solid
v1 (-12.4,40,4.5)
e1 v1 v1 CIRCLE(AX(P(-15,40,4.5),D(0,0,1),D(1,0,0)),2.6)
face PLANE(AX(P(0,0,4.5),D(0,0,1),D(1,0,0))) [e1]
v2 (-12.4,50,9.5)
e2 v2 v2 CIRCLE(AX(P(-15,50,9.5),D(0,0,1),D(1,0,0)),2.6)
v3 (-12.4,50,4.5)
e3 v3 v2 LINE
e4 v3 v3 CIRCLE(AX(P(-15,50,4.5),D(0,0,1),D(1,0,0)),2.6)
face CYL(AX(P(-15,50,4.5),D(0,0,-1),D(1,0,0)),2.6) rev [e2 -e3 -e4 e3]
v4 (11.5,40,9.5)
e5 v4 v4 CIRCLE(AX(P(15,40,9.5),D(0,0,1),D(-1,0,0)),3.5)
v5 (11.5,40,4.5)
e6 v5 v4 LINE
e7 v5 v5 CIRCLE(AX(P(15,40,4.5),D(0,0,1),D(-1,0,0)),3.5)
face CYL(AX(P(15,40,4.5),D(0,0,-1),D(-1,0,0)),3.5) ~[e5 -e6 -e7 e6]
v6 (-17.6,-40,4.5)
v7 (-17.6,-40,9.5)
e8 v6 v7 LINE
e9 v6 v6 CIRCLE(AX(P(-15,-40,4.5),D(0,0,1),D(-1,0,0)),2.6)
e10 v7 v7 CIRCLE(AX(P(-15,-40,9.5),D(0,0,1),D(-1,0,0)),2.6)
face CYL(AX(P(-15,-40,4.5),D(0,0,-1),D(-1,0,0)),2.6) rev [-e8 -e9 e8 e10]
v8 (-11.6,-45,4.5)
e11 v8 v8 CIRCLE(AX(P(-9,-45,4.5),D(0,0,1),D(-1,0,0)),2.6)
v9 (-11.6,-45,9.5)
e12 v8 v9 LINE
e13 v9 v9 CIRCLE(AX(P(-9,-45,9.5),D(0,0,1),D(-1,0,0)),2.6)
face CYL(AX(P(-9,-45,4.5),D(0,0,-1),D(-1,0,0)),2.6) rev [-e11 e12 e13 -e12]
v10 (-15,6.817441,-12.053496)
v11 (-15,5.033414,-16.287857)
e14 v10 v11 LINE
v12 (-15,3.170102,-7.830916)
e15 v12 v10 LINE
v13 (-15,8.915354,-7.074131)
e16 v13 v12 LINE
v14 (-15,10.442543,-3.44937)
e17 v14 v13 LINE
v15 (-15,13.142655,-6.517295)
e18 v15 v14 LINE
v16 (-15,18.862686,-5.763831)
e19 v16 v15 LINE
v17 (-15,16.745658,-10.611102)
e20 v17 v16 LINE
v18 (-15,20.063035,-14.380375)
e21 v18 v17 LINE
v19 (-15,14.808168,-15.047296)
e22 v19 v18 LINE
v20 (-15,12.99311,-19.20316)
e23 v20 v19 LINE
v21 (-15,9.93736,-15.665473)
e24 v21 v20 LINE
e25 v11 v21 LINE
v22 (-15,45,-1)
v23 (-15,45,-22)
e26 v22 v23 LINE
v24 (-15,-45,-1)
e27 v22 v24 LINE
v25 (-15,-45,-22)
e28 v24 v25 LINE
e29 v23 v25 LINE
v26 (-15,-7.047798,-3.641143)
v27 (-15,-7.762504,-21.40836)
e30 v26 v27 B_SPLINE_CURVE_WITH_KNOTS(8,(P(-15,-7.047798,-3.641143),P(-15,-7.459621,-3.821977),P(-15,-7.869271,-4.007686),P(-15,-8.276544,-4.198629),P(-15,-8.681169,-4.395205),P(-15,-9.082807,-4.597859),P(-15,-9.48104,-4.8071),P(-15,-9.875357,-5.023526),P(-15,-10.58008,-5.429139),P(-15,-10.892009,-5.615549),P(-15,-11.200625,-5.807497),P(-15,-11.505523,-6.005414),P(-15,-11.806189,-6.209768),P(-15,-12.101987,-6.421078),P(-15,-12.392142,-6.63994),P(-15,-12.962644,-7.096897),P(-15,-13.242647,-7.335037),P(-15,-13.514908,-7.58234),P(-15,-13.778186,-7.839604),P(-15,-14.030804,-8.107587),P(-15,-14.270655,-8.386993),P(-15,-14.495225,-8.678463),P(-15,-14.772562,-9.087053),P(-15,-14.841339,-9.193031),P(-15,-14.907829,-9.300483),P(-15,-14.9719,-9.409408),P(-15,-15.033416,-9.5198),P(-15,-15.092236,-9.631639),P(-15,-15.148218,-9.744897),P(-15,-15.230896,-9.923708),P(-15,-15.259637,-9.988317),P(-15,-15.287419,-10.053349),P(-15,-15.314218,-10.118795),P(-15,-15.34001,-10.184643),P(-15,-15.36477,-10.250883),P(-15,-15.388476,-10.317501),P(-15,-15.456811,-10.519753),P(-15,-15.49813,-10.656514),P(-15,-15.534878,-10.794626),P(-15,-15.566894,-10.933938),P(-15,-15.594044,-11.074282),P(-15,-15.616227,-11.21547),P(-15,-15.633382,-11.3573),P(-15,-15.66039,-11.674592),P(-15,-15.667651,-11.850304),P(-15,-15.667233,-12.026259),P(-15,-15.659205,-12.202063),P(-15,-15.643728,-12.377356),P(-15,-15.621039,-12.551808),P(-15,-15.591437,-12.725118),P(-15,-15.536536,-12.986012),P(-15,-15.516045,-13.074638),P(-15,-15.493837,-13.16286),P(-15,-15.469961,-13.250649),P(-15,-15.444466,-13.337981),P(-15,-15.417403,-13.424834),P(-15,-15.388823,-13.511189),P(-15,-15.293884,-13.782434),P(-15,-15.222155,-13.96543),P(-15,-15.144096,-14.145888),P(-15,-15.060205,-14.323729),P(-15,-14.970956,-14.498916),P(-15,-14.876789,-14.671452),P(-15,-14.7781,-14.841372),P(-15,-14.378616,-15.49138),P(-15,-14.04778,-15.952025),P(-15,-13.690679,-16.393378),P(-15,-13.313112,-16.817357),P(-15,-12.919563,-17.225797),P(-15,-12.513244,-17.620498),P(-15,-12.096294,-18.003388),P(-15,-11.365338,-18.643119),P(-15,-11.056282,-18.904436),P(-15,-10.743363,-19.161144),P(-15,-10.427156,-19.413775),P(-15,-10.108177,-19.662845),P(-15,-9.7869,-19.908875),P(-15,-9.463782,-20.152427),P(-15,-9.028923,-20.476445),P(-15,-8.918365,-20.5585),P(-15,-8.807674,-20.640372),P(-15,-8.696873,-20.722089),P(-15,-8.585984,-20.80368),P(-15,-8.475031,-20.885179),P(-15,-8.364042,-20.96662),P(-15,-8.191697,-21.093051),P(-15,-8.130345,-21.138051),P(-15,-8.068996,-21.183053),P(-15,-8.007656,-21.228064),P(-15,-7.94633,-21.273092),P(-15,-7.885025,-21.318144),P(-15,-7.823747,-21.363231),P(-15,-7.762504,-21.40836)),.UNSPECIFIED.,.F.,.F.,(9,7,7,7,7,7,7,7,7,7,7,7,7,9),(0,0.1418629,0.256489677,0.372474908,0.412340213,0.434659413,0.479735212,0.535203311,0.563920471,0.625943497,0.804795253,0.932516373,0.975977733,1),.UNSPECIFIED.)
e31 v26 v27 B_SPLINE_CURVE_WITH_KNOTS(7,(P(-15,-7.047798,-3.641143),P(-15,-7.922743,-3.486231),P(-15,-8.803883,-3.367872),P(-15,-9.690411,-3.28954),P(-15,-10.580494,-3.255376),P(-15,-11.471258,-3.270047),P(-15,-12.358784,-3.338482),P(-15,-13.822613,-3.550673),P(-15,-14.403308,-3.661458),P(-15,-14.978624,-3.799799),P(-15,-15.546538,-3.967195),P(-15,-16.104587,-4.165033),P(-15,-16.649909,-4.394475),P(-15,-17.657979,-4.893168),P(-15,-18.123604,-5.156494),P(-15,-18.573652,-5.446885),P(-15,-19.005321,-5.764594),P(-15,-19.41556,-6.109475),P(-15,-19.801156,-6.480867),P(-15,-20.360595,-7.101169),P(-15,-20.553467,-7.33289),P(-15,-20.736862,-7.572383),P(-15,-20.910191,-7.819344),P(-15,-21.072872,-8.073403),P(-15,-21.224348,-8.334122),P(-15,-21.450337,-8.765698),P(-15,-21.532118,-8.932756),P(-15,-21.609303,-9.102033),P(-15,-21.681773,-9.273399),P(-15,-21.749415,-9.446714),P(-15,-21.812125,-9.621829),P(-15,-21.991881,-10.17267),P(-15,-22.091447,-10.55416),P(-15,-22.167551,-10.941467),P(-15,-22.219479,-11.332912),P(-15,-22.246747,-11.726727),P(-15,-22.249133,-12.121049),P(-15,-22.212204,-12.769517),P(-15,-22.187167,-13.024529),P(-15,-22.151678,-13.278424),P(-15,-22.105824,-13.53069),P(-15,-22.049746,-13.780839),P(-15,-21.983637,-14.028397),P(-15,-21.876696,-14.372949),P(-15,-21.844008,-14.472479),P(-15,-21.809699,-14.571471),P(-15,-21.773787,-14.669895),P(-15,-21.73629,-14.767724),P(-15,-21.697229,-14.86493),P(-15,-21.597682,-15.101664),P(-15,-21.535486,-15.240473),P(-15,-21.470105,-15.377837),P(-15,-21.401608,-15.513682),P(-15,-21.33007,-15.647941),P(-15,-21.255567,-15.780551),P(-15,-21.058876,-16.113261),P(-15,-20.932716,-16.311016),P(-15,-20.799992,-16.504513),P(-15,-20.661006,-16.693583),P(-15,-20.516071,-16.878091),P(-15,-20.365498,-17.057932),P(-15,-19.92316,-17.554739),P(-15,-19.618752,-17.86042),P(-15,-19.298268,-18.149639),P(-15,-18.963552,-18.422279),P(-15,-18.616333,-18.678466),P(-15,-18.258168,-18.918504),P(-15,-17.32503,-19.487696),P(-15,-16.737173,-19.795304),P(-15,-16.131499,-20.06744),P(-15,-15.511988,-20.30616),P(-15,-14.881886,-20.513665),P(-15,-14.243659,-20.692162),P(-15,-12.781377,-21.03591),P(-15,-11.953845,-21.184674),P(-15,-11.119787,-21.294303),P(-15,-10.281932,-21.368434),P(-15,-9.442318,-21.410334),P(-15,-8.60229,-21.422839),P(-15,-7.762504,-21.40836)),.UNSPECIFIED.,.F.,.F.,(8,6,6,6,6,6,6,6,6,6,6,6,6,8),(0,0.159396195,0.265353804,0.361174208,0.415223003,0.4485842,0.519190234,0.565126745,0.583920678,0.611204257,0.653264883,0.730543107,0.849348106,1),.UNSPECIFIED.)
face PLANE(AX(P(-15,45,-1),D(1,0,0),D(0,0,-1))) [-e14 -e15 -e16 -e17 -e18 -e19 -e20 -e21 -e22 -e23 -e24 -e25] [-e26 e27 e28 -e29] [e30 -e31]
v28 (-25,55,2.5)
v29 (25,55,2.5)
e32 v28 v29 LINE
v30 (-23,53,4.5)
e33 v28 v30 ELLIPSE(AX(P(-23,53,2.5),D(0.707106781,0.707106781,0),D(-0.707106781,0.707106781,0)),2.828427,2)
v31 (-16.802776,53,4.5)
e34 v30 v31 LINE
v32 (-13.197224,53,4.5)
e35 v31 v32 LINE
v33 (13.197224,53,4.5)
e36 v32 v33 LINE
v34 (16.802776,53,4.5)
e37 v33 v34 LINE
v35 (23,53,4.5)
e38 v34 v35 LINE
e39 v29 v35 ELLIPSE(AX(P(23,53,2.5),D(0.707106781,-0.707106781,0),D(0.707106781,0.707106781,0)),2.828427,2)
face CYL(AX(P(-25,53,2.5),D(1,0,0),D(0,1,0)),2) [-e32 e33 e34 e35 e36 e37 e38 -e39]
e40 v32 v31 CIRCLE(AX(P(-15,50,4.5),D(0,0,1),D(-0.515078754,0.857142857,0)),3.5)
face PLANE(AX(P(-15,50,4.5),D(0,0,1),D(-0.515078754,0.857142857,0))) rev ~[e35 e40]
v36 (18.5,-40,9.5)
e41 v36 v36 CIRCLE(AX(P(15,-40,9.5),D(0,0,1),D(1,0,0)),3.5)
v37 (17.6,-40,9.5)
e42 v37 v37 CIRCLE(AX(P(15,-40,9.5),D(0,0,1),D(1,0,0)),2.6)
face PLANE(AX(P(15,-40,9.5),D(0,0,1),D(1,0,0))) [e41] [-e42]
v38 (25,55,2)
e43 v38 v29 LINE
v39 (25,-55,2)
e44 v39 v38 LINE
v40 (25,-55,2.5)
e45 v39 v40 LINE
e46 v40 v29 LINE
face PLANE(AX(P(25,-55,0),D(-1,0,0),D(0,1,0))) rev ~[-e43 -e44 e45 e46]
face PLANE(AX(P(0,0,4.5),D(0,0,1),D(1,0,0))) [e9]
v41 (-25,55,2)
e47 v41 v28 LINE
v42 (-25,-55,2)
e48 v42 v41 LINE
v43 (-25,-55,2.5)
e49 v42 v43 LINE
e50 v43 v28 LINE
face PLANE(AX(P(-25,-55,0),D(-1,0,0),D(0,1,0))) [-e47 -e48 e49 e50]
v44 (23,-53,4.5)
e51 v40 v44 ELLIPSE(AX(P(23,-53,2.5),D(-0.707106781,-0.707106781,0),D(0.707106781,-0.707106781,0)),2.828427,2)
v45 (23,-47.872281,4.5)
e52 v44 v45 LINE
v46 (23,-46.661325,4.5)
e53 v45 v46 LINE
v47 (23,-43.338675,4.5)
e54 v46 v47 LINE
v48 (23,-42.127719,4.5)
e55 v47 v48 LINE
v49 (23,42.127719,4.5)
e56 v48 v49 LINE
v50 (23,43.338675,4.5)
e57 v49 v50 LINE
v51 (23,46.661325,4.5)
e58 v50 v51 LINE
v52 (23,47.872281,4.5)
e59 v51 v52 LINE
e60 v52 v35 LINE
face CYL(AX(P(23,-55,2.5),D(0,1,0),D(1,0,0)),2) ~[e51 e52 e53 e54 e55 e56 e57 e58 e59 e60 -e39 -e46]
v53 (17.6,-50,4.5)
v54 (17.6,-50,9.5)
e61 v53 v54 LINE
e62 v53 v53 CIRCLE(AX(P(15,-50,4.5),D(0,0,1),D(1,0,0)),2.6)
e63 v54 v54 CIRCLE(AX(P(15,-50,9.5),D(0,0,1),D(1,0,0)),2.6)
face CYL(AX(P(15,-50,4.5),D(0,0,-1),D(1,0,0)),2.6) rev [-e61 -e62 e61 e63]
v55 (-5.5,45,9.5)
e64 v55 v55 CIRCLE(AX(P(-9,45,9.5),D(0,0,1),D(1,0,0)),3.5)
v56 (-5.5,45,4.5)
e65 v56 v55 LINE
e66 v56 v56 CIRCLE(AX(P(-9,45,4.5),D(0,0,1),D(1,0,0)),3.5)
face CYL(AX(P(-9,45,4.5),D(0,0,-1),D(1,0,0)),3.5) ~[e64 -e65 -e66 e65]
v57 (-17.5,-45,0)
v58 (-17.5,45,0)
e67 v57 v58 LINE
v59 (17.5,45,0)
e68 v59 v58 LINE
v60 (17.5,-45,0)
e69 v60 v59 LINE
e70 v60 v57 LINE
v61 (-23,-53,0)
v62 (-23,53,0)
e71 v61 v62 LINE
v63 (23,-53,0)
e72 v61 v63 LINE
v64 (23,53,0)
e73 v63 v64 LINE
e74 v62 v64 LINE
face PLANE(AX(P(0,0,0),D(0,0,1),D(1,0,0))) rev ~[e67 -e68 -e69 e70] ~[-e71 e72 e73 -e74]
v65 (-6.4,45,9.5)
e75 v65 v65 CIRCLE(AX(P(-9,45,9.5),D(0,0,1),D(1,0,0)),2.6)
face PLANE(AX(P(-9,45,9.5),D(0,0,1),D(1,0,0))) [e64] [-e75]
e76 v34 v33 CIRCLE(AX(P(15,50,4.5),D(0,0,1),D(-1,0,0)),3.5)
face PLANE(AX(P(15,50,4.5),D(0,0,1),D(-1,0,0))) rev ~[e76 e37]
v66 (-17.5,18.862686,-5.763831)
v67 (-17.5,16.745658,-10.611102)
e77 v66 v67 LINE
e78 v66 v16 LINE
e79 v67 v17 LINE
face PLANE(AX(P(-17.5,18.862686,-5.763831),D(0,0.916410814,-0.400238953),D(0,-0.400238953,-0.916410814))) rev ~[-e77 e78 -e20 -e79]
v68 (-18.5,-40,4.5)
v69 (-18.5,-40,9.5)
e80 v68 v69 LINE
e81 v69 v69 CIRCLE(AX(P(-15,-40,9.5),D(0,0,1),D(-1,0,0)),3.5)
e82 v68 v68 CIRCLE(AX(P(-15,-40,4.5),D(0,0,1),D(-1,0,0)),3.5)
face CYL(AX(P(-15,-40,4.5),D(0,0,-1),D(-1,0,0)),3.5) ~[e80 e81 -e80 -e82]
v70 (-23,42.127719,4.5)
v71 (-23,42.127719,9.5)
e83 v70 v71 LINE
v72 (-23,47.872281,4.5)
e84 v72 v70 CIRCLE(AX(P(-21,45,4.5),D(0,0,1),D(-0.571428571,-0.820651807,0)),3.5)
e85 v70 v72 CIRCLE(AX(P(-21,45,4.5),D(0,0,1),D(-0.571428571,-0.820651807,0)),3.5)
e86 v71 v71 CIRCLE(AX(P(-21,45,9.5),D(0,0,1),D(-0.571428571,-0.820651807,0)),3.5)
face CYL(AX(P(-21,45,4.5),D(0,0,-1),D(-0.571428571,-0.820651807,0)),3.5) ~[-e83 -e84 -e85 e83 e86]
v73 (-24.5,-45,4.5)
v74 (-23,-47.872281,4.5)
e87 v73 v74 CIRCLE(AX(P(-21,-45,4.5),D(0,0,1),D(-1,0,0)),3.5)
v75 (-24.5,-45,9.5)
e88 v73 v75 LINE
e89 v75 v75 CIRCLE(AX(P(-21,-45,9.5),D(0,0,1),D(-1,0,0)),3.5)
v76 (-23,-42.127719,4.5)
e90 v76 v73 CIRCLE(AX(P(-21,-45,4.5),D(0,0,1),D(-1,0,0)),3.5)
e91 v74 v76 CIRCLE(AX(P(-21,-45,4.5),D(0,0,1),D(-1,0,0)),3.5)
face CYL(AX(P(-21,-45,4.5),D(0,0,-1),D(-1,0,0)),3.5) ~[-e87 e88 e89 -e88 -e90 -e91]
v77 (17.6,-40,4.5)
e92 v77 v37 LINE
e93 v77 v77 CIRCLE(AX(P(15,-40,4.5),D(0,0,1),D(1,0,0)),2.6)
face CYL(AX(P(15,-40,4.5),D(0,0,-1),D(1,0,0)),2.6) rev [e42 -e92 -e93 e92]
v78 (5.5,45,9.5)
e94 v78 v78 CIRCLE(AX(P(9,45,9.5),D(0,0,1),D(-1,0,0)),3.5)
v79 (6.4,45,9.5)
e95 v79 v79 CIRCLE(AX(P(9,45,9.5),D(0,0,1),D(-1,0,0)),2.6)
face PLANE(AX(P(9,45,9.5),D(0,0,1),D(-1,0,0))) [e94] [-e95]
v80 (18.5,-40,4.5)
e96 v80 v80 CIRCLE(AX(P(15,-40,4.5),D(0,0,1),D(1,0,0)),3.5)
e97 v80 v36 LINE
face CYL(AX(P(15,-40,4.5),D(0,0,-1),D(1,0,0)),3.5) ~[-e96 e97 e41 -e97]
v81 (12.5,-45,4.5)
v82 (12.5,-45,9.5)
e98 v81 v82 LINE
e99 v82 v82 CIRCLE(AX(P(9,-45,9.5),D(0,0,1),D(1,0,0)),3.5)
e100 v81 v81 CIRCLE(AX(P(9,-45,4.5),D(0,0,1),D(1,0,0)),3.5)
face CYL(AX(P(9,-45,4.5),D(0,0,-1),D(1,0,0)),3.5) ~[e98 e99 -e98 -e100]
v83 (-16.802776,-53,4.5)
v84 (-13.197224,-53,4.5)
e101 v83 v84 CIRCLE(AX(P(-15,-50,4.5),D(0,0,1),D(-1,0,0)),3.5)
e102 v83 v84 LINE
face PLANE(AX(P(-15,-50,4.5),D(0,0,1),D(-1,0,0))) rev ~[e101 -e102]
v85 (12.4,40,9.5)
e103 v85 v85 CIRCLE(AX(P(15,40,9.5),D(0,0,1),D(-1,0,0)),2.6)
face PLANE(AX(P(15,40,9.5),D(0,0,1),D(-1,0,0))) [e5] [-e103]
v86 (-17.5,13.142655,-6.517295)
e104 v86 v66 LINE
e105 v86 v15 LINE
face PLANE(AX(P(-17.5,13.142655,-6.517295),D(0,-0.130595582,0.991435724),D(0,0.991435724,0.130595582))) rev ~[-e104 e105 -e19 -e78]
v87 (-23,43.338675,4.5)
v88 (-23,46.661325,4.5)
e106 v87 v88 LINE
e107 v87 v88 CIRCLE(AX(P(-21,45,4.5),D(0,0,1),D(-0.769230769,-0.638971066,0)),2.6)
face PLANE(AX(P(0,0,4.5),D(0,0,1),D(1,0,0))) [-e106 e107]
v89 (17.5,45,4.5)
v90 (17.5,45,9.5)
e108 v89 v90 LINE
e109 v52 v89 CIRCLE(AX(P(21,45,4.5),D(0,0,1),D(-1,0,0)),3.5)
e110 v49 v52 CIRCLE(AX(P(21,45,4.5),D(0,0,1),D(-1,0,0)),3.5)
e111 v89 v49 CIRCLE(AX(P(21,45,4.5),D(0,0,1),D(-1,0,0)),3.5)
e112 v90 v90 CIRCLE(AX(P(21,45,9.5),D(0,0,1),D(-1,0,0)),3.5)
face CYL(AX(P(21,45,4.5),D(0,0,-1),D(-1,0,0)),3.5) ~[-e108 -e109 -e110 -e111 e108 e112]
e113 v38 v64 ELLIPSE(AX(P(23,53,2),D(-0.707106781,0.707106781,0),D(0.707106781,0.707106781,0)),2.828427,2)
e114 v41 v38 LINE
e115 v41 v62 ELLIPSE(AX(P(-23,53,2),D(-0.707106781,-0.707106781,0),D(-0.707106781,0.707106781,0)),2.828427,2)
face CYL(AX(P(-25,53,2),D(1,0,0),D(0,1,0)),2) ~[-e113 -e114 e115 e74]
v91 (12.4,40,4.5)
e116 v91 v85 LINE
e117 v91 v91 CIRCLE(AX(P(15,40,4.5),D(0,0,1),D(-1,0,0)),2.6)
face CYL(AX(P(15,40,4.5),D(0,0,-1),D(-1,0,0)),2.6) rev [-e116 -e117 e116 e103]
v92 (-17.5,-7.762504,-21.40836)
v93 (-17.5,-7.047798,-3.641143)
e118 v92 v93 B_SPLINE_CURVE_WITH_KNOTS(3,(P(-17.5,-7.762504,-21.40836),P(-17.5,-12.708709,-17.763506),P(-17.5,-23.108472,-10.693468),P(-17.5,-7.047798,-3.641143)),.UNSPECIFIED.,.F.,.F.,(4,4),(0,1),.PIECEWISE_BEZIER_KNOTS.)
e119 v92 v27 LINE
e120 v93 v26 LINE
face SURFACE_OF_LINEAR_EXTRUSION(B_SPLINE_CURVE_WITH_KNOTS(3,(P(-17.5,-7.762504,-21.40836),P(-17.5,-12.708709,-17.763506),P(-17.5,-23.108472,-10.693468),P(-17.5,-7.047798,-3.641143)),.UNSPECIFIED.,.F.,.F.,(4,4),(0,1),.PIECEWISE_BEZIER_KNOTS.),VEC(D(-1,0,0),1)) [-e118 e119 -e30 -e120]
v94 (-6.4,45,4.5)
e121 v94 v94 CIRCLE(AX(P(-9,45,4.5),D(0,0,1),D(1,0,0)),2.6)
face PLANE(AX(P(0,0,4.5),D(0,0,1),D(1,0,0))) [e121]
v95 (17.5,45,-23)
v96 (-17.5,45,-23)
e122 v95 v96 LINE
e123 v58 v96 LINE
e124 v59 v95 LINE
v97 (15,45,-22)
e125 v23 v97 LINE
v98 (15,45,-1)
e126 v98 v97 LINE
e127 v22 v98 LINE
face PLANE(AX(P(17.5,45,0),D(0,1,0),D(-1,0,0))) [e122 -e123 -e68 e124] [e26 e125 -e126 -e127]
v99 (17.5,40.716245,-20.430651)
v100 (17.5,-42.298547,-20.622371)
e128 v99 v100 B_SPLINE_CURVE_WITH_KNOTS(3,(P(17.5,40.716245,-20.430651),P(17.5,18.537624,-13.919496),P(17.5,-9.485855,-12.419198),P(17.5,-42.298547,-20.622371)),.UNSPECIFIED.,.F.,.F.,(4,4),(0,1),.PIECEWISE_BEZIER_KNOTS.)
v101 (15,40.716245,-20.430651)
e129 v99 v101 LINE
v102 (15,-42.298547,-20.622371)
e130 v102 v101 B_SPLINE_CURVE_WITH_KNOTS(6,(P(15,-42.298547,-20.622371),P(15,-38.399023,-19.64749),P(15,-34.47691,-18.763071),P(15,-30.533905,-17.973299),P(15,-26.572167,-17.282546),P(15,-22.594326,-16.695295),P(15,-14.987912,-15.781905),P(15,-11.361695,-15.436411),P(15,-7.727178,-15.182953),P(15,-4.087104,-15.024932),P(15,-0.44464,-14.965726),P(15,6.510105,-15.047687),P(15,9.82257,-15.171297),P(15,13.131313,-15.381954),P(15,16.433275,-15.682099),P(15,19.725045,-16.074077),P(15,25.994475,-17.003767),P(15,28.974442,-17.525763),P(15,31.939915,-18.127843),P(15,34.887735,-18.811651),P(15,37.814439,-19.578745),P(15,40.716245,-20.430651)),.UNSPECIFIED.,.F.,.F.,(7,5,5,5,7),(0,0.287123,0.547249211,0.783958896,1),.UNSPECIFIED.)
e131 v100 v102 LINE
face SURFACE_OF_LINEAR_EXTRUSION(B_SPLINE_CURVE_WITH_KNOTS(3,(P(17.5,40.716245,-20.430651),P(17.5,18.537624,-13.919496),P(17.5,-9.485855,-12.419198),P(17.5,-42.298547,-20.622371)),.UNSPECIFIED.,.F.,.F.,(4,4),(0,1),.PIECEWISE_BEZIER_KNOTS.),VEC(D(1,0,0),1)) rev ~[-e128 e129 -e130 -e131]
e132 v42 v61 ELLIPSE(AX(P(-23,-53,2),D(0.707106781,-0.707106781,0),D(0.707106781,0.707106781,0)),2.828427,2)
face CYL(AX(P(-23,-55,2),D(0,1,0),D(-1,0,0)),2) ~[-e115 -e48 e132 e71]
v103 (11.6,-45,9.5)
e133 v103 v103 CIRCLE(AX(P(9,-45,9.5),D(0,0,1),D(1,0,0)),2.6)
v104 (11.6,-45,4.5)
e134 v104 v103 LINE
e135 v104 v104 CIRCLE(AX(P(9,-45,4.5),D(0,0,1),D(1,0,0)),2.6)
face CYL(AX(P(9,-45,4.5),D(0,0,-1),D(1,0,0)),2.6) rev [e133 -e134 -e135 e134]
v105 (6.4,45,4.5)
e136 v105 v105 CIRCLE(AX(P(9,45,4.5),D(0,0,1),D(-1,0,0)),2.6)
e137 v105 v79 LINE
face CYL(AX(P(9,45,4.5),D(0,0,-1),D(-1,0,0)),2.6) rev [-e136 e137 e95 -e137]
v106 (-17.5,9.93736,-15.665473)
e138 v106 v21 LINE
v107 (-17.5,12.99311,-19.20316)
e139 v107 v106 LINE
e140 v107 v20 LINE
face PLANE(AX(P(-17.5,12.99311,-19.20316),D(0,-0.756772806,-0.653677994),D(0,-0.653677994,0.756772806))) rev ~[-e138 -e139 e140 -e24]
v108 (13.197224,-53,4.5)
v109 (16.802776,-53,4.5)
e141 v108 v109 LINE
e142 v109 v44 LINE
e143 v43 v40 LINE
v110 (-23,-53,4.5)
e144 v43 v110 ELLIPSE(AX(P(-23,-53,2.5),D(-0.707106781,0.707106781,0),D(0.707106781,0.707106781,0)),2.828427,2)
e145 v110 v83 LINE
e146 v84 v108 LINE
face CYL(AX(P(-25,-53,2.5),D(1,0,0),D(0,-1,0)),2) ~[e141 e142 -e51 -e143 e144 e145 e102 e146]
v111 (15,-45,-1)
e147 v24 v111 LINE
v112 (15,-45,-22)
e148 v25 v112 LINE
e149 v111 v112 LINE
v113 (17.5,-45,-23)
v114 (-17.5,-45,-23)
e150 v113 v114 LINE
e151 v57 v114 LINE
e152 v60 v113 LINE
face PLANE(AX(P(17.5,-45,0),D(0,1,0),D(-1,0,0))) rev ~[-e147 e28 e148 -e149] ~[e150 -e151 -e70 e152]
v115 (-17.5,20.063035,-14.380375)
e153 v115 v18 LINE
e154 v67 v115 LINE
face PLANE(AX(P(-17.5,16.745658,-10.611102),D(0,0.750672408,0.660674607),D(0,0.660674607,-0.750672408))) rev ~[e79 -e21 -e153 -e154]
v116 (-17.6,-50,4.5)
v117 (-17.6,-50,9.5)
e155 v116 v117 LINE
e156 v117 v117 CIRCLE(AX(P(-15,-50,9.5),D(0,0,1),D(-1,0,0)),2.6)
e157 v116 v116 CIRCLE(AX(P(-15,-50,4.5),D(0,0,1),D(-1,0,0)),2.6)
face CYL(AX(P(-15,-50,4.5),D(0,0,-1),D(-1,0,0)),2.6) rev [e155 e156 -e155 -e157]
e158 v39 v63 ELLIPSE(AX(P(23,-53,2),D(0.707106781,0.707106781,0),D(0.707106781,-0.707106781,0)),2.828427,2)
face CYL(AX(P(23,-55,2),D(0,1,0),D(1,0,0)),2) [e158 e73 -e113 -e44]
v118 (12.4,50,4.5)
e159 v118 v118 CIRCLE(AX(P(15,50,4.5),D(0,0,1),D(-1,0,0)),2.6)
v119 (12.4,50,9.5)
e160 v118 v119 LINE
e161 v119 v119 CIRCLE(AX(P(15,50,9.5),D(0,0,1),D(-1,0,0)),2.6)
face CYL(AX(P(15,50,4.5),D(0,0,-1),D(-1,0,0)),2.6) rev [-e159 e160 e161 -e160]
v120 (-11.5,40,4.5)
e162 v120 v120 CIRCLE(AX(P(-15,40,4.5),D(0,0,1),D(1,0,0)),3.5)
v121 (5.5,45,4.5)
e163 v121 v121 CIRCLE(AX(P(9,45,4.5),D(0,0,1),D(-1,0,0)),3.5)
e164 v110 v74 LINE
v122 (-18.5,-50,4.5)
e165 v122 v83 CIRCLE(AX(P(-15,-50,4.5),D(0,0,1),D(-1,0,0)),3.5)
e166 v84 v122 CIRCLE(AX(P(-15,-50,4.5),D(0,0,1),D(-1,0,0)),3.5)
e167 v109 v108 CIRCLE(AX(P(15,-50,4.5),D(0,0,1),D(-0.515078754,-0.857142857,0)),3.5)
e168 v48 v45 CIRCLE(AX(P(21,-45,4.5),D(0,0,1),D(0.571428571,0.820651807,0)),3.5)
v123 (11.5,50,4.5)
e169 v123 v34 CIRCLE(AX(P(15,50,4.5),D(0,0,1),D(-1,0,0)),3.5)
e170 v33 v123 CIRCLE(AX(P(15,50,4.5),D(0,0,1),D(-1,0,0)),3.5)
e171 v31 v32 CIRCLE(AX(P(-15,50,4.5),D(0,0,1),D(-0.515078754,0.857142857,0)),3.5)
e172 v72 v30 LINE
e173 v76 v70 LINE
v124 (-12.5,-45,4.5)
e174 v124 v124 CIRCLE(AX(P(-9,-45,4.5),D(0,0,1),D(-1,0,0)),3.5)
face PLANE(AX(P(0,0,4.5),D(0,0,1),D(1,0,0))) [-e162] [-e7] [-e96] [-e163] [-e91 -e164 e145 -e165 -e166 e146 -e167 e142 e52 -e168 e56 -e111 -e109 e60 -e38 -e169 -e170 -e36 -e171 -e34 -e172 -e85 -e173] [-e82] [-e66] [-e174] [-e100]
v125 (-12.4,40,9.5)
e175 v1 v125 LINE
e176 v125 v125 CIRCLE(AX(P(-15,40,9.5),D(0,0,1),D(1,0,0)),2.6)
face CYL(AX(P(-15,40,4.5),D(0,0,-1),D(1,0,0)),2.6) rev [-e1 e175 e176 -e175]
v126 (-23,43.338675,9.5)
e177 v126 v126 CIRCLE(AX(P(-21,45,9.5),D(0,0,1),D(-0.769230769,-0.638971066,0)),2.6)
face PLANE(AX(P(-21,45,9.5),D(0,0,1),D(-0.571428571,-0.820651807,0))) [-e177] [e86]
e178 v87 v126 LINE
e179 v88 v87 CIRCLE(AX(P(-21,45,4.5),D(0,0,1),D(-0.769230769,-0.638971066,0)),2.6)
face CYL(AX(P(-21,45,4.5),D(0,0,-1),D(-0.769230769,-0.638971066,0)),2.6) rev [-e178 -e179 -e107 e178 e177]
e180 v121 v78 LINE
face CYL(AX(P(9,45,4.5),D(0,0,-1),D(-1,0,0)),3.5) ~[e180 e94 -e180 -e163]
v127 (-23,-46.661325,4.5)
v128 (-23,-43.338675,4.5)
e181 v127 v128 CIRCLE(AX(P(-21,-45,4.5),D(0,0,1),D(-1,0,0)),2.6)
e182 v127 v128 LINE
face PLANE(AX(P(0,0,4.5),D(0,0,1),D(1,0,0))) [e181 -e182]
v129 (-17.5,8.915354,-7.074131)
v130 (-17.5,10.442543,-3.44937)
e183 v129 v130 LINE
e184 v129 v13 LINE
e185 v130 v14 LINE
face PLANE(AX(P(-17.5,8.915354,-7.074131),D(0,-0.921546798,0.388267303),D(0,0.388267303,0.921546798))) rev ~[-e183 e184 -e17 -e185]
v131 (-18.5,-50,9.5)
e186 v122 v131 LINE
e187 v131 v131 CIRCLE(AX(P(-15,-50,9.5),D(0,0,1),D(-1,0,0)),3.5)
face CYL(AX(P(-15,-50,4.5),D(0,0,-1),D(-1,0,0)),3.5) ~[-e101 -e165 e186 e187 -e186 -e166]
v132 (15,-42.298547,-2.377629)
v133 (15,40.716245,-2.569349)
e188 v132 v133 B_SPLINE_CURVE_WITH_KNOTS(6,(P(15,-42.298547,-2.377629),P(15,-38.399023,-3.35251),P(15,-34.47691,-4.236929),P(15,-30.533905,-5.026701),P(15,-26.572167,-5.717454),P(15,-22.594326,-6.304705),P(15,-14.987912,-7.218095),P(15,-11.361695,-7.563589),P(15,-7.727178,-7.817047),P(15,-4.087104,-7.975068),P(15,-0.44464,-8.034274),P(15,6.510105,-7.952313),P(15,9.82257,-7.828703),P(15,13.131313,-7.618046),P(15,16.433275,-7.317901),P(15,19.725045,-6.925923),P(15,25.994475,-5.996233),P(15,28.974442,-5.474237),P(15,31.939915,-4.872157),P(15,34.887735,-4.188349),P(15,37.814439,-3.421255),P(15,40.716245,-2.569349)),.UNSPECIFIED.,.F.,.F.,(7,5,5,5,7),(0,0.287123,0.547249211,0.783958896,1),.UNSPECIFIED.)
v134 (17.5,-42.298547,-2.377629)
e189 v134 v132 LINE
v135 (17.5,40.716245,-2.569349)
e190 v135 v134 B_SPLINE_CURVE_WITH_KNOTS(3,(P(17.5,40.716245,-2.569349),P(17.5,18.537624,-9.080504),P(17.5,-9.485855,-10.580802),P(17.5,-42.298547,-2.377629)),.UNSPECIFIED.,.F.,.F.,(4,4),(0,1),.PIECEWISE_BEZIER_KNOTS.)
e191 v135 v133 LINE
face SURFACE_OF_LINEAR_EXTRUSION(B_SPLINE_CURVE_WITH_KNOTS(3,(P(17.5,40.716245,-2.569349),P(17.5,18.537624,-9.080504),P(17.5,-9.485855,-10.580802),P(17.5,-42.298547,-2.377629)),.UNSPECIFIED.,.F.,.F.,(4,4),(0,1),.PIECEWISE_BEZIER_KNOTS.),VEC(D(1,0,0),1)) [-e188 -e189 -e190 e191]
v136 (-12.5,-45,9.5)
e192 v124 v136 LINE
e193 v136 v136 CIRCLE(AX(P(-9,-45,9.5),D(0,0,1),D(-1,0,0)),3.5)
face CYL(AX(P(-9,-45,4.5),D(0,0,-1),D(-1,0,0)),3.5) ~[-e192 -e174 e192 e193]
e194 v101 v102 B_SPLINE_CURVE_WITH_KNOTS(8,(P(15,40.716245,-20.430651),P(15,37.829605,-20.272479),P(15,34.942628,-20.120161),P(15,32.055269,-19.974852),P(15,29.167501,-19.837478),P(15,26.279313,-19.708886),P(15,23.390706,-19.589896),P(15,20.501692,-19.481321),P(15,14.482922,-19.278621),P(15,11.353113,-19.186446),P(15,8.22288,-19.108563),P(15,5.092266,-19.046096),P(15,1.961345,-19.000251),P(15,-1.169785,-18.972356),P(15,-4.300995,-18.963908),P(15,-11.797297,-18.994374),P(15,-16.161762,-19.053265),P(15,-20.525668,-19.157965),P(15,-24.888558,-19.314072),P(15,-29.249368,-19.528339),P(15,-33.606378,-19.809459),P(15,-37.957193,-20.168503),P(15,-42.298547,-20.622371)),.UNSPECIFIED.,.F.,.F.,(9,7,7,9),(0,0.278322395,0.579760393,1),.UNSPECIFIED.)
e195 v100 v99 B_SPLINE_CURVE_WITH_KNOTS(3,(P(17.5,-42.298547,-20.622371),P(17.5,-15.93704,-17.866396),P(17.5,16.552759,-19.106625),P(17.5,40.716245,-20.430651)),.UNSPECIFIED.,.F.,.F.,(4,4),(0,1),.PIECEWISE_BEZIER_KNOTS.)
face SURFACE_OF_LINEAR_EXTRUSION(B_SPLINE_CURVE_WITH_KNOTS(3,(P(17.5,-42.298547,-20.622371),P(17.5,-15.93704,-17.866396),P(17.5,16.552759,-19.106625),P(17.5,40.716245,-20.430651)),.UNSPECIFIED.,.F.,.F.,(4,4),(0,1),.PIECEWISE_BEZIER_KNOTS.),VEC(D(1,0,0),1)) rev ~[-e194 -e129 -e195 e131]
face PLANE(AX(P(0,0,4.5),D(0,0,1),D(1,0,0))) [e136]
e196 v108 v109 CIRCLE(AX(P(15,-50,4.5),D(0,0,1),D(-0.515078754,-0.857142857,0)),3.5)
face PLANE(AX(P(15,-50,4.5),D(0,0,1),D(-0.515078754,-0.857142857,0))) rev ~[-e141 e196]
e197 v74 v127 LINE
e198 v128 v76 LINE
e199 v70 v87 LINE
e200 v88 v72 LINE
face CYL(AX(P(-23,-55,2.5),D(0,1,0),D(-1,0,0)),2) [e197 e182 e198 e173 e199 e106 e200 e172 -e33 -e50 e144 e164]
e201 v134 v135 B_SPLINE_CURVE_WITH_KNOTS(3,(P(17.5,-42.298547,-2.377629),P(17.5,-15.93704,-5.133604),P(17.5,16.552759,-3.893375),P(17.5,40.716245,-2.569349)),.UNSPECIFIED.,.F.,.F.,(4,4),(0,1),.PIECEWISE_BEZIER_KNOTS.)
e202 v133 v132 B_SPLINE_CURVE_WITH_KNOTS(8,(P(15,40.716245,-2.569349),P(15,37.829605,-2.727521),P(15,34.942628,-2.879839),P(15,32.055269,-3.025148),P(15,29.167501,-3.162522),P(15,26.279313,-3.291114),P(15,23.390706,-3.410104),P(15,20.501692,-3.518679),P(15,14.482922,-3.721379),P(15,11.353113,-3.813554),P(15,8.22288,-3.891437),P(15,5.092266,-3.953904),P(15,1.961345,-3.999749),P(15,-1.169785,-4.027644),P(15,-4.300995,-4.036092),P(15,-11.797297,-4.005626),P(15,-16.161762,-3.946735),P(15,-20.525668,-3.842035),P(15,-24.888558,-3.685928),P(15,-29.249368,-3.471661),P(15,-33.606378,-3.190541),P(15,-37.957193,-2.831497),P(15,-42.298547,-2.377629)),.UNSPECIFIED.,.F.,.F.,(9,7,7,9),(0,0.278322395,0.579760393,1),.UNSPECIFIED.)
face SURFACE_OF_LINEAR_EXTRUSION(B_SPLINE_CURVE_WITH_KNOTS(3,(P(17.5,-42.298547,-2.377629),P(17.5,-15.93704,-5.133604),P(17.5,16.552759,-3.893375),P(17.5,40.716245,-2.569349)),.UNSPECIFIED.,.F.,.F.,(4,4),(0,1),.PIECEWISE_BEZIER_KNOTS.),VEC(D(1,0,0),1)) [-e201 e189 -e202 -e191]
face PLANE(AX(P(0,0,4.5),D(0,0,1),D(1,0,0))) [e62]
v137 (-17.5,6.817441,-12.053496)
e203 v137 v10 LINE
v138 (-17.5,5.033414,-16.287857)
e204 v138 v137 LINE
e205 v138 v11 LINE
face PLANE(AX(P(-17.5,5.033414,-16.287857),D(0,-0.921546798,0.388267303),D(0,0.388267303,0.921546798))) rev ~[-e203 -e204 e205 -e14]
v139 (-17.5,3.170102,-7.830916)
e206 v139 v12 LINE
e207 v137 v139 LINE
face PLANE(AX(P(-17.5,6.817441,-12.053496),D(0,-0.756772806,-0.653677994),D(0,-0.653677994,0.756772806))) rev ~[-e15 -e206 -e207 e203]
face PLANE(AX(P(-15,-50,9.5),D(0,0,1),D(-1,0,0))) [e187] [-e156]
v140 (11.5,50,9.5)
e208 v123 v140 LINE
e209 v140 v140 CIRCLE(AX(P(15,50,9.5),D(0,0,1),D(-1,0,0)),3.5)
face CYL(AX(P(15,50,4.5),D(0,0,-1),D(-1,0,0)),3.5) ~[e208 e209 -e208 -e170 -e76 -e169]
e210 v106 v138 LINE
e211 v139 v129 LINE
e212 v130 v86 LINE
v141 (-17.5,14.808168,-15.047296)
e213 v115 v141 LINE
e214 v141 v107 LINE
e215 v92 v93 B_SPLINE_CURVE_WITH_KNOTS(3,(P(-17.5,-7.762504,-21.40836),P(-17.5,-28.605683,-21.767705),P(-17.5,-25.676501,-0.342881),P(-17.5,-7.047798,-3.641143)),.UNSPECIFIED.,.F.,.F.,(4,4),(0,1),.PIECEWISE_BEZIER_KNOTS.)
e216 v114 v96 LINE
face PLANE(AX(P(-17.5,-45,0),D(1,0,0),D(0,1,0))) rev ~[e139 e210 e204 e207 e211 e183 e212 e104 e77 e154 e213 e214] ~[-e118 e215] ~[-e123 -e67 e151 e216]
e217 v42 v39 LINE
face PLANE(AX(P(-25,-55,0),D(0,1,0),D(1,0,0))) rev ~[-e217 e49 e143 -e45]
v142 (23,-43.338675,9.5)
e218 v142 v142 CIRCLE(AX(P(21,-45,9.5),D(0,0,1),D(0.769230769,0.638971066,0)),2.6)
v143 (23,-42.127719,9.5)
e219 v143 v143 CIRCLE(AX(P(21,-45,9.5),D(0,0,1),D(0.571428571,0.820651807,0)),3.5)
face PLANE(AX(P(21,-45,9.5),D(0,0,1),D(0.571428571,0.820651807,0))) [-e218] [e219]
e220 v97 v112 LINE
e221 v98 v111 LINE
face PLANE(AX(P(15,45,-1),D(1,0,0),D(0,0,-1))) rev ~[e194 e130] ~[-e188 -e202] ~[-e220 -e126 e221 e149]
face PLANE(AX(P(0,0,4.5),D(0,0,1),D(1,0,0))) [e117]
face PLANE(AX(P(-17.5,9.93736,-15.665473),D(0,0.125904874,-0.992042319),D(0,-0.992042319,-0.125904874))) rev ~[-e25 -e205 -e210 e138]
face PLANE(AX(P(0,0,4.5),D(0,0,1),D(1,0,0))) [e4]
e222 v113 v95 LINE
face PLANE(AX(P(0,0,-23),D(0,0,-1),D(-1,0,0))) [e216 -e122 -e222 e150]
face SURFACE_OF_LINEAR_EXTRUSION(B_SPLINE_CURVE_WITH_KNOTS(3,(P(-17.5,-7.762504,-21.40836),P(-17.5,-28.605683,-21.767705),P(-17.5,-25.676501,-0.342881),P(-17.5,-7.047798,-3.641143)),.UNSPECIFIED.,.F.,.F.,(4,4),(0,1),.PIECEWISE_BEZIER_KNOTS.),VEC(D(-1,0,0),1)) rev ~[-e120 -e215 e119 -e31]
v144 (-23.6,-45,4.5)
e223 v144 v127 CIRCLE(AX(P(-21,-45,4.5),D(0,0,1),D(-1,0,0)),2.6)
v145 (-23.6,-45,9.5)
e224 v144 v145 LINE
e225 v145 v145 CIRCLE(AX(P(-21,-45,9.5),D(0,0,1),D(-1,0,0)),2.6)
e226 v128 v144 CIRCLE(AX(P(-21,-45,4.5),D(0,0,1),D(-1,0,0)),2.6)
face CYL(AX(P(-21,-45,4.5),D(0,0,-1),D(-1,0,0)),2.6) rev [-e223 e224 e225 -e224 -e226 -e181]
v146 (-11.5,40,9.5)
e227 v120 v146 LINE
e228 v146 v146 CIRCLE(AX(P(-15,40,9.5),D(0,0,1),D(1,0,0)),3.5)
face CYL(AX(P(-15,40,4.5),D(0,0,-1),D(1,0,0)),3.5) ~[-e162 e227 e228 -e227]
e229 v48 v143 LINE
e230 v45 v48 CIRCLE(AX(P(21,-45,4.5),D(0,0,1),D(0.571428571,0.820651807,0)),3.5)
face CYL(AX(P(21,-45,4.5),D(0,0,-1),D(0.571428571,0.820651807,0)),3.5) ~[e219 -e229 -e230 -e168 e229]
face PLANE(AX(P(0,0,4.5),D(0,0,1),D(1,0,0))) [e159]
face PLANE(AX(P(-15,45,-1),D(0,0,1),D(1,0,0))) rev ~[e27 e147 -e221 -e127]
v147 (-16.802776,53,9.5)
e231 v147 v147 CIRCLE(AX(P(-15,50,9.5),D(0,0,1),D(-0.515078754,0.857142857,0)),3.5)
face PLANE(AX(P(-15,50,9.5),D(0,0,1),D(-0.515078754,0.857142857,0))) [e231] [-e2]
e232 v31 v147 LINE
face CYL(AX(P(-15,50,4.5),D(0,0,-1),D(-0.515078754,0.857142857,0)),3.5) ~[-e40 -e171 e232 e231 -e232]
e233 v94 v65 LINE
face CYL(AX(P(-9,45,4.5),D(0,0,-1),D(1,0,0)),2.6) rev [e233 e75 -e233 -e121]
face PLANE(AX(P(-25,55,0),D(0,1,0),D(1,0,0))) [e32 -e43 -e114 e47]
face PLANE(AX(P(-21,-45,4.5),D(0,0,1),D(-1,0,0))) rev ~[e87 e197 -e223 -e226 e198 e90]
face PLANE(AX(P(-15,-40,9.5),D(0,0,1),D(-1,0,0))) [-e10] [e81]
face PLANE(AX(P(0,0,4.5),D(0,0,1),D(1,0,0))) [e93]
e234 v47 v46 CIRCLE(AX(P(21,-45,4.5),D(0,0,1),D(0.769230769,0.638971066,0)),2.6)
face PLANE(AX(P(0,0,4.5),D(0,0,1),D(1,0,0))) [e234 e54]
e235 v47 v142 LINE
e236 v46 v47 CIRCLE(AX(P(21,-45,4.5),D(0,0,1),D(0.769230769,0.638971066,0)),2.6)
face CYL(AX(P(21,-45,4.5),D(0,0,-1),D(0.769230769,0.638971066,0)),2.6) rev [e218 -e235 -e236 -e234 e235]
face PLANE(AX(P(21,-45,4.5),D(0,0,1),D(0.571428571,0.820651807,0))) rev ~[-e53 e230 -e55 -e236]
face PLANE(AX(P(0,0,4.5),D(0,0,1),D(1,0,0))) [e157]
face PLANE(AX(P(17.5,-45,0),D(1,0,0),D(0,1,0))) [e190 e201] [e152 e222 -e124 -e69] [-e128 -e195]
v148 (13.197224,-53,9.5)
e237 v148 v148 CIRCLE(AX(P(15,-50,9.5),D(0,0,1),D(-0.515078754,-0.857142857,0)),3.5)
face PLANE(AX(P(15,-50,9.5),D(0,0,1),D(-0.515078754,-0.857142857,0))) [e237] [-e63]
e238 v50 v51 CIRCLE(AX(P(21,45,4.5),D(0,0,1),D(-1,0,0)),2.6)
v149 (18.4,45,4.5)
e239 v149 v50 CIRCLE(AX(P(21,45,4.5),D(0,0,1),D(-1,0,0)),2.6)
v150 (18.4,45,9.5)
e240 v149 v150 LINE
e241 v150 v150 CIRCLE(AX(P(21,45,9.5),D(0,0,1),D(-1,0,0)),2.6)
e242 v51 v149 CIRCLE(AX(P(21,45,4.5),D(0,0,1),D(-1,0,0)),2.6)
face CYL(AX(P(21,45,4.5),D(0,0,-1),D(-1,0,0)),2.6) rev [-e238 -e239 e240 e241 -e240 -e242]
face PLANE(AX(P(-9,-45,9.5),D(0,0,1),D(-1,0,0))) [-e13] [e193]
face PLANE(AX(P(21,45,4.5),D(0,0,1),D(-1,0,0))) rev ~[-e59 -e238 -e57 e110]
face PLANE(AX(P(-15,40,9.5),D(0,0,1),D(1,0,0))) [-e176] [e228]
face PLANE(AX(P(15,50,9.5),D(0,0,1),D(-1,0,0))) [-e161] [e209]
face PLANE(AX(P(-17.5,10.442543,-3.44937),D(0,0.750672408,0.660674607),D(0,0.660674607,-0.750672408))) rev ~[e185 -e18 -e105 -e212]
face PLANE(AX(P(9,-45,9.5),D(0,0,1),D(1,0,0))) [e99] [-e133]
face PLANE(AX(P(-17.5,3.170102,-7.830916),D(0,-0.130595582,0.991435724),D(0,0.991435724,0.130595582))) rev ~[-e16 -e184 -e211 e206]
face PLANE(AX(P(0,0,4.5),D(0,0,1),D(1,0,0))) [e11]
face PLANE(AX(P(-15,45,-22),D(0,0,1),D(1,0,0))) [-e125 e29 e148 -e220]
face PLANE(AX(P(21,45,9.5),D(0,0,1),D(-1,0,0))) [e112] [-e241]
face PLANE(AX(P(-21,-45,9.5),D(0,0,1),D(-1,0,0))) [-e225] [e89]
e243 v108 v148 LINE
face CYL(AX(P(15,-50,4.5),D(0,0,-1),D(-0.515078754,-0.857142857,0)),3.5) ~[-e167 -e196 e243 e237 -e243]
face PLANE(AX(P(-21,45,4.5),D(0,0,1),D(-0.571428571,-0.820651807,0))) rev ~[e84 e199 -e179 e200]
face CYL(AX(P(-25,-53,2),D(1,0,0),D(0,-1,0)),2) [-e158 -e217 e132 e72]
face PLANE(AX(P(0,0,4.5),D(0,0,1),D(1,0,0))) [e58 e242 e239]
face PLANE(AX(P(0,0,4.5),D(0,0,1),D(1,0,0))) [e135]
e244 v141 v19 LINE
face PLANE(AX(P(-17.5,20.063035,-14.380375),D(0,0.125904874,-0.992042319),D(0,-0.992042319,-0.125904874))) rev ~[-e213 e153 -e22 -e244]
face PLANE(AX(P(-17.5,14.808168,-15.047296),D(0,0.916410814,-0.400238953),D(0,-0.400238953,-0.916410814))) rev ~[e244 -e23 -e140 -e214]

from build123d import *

# Parameters (mm, degrees)
CROQUIS1_W              = 50
CROQUIS1_H              = 110
SALIENTE_EXTRUIR1_DEPTH = 4.5
REDONDEO1_R             = 2
CROQUIS2_R              = 3.5
CROQUIS2_R_2            = 2.6
SALIENTE_EXTRUIR2_DEPTH = 5
CROQUIS3_W              = 35
CROQUIS3_H              = 90
SALIENTE_EXTRUIR3_DEPTH = 23
CROQUIS5_W              = 30
CROQUIS5_H              = 21
CORTAR_EXTRUIR2_DEPTH   = 106.61249926
CORTAR_EXTRUIR4_DEPTH   = 10
CORTAR_EXTRUIR5_DEPTH   = 10


with BuildPart() as part:
    # Croquis1 → Saliente-Extruir1 (new body)
    with BuildSketch(Plane.XY):
        Rectangle(CROQUIS1_W, CROQUIS1_H)
    extrude(amount=SALIENTE_EXTRUIR1_DEPTH)

    # Redondeo1
    redondeo1_edges = [part.edges().sort_by_distance(p)[0] for p in [
        (0, 55, 0),
        (0, 55, 4.5),
        (-25, 0, 0),
        (-25, 0, 4.5),
        (0, -55, 0),
        (0, -55, 4.5),
        (25, 0, 0),
        (25, 0, 4.5),
    ]]
    fillet(redondeo1_edges, radius=REDONDEO1_R)

    # Croquis2 → Saliente-Extruir2 (add)
    # profile 1 of 16: a face of its own
    with BuildSketch(Plane.XY.offset(4.5)):
        with Locations((-15, 50)):
            Circle(CROQUIS2_R)
        with Locations((-15, 50)):
            Circle(CROQUIS2_R_2, mode=Mode.SUBTRACT)
    # profile 2 of 16: a face of its own
    with BuildSketch(Plane.XY.offset(4.5)):
        with Locations((-15, 40)):
            Circle(CROQUIS2_R)
        with Locations((-15, 40)):
            Circle(CROQUIS2_R_2, mode=Mode.SUBTRACT)
    # profile 3 of 16: a face of its own
    with BuildSketch(Plane.XY.offset(4.5)):
        with Locations((-9, 45)):
            Circle(CROQUIS2_R)
        with Locations((-9, 45)):
            Circle(CROQUIS2_R_2, mode=Mode.SUBTRACT)
    # profile 4 of 16: a face of its own
    with BuildSketch(Plane.XY.offset(4.5)):
        with Locations((-21, 45)):
            Circle(CROQUIS2_R)
        with Locations((-21, 45)):
            Circle(CROQUIS2_R_2, mode=Mode.SUBTRACT)
    # profile 5 of 16: a face of its own
    with BuildSketch(Plane.XY.offset(4.5)):
        with Locations((21, 45)):
            Circle(CROQUIS2_R)
        with Locations((21, 45)):
            Circle(CROQUIS2_R_2, mode=Mode.SUBTRACT)
    # profile 6 of 16: a face of its own
    with BuildSketch(Plane.XY.offset(4.5)):
        with Locations((15, 40)):
            Circle(CROQUIS2_R)
        with Locations((15, 40)):
            Circle(CROQUIS2_R_2, mode=Mode.SUBTRACT)
    # profile 7 of 16: a face of its own
    with BuildSketch(Plane.XY.offset(4.5)):
        with Locations((9, 45)):
            Circle(CROQUIS2_R)
        with Locations((9, 45)):
            Circle(CROQUIS2_R_2, mode=Mode.SUBTRACT)
    # profile 8 of 16: a face of its own
    with BuildSketch(Plane.XY.offset(4.5)):
        with Locations((15, 50)):
            Circle(CROQUIS2_R)
        with Locations((15, 50)):
            Circle(CROQUIS2_R_2, mode=Mode.SUBTRACT)
    # profile 9 of 16: a face of its own
    with BuildSketch(Plane.XY.offset(4.5)):
        with Locations((15, -40)):
            Circle(CROQUIS2_R)
        with Locations((15, -40)):
            Circle(CROQUIS2_R_2, mode=Mode.SUBTRACT)
    # profile 10 of 16: a face of its own
    with BuildSketch(Plane.XY.offset(4.5)):
        with Locations((21, -45)):
            Circle(CROQUIS2_R)
        with Locations((21, -45)):
            Circle(CROQUIS2_R_2, mode=Mode.SUBTRACT)
    # profile 11 of 16: a face of its own
    with BuildSketch(Plane.XY.offset(4.5)):
        with Locations((9, -45)):
            Circle(CROQUIS2_R)
        with Locations((9, -45)):
            Circle(CROQUIS2_R_2, mode=Mode.SUBTRACT)
    # profile 12 of 16: a face of its own
    with BuildSketch(Plane.XY.offset(4.5)):
        with Locations((15, -50)):
            Circle(CROQUIS2_R)
        with Locations((15, -50)):
            Circle(CROQUIS2_R_2, mode=Mode.SUBTRACT)
    # profile 13 of 16: a face of its own
    with BuildSketch(Plane.XY.offset(4.5)):
        with Locations((-15, -40)):
            Circle(CROQUIS2_R)
        with Locations((-15, -40)):
            Circle(CROQUIS2_R_2, mode=Mode.SUBTRACT)
    # profile 14 of 16: a face of its own
    with BuildSketch(Plane.XY.offset(4.5)):
        with Locations((-9, -45)):
            Circle(CROQUIS2_R)
        with Locations((-9, -45)):
            Circle(CROQUIS2_R_2, mode=Mode.SUBTRACT)
    # profile 15 of 16: a face of its own
    with BuildSketch(Plane.XY.offset(4.5)):
        with Locations((-21, -45)):
            Circle(CROQUIS2_R)
        with Locations((-21, -45)):
            Circle(CROQUIS2_R_2, mode=Mode.SUBTRACT)
    # profile 16 of 16: a face of its own
    with BuildSketch(Plane.XY.offset(4.5)):
        with Locations((-15, -50)):
            Circle(CROQUIS2_R)
        with Locations((-15, -50)):
            Circle(CROQUIS2_R_2, mode=Mode.SUBTRACT)
    extrude(amount=SALIENTE_EXTRUIR2_DEPTH)

    # Croquis3 → Saliente-Extruir3 (add)
    with BuildSketch(Plane(origin=(0, 0, 0), x_dir=(-1, 0, 0), z_dir=(0, 0, -1))):
        Rectangle(CROQUIS3_W, CROQUIS3_H)
    extrude(amount=SALIENTE_EXTRUIR3_DEPTH)

    # Croquis5 → Cortar-Extruir2 (cut, through all)
    with BuildSketch(Plane(origin=(0, 45, 0), x_dir=(1, 0, 0), z_dir=(0, 1, 0))):
        with Locations((0, 11.5)):
            Rectangle(CROQUIS5_W, CROQUIS5_H)
    extrude(amount=-CORTAR_EXTRUIR2_DEPTH, mode=Mode.SUBTRACT)

    # Croquis7 → Cortar-Extruir4 (cut)
    with BuildSketch(Plane.ZY.offset(17.5)):
        Polygon((-15.047295785, 14.808167615), (-19.203160033, 12.99310964), (-15.665473408, 9.937360437), (-16.287856832, 5.033414493), (-12.053495915, 6.817440977), (-7.830916468, 3.170101587), (-7.074130605, 8.915353688), (-3.449369764, 10.442542671), (-6.517294779, 13.142655438), (-5.763831244, 18.862685602), (-10.611102479, 16.745658244), (-14.380375291, 20.063034513), align=None)
        with BuildLine():
            add(Edge.make_bspline(
                [(-21.408360481, -7.762503909), (-17.763506305, -12.708708723), (-10.693467631, -23.108472428), (-3.641142742, -7.047797831)],
                knots=[0, 0, 0, 0, 1, 1, 1, 1], degree=3))
            add(Edge.make_bspline(
                [(-21.408360481, -7.762503909), (-21.767705448, -28.605682654), (-0.342880562, -25.676501046), (-3.641142742, -7.047797831)],
                knots=[0, 0, 0, 0, 1, 1, 1, 1], degree=3))
        make_face()
    extrude(amount=-CORTAR_EXTRUIR4_DEPTH, mode=Mode.SUBTRACT)

    # Croquis8 → Cortar-Extruir5 (cut)
    with BuildSketch(Plane(origin=(17.5, 0, 0), x_dir=(0, 0, -1), z_dir=(1, 0, 0))):
        with BuildLine():
            add(Edge.make_bspline(
                [(2.569348743, 40.716245485), (9.080503754, 18.53762373), (10.580801765, -9.48585487), (2.377628668, -42.298547258)],
                knots=[0, 0, 0, 0, 1, 1, 1, 1], degree=3))
            add(Edge.make_bspline(
                [(2.377628668, -42.298547258), (5.133604453, -15.937039747), (3.893375388, 16.552759214), (2.569348743, 40.716245485)],
                knots=[0, 0, 0, 0, 1, 1, 1, 1], degree=3))
        make_face()
        with BuildLine():
            add(Edge.make_bspline(
                [(20.430651257, 40.716245485), (13.919496246, 18.53762373), (12.419198235, -9.48585487), (20.622371332, -42.298547258)],
                knots=[0, 0, 0, 0, 1, 1, 1, 1], degree=3))
            add(Edge.make_bspline(
                [(20.622371332, -42.298547258), (17.866395547, -15.937039747), (19.106624612, 16.552759214), (20.430651257, 40.716245485)],
                knots=[0, 0, 0, 0, 1, 1, 1, 1], degree=3))
        make_face()
    extrude(amount=-CORTAR_EXTRUIR5_DEPTH, mode=Mode.SUBTRACT)


solid = part.part
